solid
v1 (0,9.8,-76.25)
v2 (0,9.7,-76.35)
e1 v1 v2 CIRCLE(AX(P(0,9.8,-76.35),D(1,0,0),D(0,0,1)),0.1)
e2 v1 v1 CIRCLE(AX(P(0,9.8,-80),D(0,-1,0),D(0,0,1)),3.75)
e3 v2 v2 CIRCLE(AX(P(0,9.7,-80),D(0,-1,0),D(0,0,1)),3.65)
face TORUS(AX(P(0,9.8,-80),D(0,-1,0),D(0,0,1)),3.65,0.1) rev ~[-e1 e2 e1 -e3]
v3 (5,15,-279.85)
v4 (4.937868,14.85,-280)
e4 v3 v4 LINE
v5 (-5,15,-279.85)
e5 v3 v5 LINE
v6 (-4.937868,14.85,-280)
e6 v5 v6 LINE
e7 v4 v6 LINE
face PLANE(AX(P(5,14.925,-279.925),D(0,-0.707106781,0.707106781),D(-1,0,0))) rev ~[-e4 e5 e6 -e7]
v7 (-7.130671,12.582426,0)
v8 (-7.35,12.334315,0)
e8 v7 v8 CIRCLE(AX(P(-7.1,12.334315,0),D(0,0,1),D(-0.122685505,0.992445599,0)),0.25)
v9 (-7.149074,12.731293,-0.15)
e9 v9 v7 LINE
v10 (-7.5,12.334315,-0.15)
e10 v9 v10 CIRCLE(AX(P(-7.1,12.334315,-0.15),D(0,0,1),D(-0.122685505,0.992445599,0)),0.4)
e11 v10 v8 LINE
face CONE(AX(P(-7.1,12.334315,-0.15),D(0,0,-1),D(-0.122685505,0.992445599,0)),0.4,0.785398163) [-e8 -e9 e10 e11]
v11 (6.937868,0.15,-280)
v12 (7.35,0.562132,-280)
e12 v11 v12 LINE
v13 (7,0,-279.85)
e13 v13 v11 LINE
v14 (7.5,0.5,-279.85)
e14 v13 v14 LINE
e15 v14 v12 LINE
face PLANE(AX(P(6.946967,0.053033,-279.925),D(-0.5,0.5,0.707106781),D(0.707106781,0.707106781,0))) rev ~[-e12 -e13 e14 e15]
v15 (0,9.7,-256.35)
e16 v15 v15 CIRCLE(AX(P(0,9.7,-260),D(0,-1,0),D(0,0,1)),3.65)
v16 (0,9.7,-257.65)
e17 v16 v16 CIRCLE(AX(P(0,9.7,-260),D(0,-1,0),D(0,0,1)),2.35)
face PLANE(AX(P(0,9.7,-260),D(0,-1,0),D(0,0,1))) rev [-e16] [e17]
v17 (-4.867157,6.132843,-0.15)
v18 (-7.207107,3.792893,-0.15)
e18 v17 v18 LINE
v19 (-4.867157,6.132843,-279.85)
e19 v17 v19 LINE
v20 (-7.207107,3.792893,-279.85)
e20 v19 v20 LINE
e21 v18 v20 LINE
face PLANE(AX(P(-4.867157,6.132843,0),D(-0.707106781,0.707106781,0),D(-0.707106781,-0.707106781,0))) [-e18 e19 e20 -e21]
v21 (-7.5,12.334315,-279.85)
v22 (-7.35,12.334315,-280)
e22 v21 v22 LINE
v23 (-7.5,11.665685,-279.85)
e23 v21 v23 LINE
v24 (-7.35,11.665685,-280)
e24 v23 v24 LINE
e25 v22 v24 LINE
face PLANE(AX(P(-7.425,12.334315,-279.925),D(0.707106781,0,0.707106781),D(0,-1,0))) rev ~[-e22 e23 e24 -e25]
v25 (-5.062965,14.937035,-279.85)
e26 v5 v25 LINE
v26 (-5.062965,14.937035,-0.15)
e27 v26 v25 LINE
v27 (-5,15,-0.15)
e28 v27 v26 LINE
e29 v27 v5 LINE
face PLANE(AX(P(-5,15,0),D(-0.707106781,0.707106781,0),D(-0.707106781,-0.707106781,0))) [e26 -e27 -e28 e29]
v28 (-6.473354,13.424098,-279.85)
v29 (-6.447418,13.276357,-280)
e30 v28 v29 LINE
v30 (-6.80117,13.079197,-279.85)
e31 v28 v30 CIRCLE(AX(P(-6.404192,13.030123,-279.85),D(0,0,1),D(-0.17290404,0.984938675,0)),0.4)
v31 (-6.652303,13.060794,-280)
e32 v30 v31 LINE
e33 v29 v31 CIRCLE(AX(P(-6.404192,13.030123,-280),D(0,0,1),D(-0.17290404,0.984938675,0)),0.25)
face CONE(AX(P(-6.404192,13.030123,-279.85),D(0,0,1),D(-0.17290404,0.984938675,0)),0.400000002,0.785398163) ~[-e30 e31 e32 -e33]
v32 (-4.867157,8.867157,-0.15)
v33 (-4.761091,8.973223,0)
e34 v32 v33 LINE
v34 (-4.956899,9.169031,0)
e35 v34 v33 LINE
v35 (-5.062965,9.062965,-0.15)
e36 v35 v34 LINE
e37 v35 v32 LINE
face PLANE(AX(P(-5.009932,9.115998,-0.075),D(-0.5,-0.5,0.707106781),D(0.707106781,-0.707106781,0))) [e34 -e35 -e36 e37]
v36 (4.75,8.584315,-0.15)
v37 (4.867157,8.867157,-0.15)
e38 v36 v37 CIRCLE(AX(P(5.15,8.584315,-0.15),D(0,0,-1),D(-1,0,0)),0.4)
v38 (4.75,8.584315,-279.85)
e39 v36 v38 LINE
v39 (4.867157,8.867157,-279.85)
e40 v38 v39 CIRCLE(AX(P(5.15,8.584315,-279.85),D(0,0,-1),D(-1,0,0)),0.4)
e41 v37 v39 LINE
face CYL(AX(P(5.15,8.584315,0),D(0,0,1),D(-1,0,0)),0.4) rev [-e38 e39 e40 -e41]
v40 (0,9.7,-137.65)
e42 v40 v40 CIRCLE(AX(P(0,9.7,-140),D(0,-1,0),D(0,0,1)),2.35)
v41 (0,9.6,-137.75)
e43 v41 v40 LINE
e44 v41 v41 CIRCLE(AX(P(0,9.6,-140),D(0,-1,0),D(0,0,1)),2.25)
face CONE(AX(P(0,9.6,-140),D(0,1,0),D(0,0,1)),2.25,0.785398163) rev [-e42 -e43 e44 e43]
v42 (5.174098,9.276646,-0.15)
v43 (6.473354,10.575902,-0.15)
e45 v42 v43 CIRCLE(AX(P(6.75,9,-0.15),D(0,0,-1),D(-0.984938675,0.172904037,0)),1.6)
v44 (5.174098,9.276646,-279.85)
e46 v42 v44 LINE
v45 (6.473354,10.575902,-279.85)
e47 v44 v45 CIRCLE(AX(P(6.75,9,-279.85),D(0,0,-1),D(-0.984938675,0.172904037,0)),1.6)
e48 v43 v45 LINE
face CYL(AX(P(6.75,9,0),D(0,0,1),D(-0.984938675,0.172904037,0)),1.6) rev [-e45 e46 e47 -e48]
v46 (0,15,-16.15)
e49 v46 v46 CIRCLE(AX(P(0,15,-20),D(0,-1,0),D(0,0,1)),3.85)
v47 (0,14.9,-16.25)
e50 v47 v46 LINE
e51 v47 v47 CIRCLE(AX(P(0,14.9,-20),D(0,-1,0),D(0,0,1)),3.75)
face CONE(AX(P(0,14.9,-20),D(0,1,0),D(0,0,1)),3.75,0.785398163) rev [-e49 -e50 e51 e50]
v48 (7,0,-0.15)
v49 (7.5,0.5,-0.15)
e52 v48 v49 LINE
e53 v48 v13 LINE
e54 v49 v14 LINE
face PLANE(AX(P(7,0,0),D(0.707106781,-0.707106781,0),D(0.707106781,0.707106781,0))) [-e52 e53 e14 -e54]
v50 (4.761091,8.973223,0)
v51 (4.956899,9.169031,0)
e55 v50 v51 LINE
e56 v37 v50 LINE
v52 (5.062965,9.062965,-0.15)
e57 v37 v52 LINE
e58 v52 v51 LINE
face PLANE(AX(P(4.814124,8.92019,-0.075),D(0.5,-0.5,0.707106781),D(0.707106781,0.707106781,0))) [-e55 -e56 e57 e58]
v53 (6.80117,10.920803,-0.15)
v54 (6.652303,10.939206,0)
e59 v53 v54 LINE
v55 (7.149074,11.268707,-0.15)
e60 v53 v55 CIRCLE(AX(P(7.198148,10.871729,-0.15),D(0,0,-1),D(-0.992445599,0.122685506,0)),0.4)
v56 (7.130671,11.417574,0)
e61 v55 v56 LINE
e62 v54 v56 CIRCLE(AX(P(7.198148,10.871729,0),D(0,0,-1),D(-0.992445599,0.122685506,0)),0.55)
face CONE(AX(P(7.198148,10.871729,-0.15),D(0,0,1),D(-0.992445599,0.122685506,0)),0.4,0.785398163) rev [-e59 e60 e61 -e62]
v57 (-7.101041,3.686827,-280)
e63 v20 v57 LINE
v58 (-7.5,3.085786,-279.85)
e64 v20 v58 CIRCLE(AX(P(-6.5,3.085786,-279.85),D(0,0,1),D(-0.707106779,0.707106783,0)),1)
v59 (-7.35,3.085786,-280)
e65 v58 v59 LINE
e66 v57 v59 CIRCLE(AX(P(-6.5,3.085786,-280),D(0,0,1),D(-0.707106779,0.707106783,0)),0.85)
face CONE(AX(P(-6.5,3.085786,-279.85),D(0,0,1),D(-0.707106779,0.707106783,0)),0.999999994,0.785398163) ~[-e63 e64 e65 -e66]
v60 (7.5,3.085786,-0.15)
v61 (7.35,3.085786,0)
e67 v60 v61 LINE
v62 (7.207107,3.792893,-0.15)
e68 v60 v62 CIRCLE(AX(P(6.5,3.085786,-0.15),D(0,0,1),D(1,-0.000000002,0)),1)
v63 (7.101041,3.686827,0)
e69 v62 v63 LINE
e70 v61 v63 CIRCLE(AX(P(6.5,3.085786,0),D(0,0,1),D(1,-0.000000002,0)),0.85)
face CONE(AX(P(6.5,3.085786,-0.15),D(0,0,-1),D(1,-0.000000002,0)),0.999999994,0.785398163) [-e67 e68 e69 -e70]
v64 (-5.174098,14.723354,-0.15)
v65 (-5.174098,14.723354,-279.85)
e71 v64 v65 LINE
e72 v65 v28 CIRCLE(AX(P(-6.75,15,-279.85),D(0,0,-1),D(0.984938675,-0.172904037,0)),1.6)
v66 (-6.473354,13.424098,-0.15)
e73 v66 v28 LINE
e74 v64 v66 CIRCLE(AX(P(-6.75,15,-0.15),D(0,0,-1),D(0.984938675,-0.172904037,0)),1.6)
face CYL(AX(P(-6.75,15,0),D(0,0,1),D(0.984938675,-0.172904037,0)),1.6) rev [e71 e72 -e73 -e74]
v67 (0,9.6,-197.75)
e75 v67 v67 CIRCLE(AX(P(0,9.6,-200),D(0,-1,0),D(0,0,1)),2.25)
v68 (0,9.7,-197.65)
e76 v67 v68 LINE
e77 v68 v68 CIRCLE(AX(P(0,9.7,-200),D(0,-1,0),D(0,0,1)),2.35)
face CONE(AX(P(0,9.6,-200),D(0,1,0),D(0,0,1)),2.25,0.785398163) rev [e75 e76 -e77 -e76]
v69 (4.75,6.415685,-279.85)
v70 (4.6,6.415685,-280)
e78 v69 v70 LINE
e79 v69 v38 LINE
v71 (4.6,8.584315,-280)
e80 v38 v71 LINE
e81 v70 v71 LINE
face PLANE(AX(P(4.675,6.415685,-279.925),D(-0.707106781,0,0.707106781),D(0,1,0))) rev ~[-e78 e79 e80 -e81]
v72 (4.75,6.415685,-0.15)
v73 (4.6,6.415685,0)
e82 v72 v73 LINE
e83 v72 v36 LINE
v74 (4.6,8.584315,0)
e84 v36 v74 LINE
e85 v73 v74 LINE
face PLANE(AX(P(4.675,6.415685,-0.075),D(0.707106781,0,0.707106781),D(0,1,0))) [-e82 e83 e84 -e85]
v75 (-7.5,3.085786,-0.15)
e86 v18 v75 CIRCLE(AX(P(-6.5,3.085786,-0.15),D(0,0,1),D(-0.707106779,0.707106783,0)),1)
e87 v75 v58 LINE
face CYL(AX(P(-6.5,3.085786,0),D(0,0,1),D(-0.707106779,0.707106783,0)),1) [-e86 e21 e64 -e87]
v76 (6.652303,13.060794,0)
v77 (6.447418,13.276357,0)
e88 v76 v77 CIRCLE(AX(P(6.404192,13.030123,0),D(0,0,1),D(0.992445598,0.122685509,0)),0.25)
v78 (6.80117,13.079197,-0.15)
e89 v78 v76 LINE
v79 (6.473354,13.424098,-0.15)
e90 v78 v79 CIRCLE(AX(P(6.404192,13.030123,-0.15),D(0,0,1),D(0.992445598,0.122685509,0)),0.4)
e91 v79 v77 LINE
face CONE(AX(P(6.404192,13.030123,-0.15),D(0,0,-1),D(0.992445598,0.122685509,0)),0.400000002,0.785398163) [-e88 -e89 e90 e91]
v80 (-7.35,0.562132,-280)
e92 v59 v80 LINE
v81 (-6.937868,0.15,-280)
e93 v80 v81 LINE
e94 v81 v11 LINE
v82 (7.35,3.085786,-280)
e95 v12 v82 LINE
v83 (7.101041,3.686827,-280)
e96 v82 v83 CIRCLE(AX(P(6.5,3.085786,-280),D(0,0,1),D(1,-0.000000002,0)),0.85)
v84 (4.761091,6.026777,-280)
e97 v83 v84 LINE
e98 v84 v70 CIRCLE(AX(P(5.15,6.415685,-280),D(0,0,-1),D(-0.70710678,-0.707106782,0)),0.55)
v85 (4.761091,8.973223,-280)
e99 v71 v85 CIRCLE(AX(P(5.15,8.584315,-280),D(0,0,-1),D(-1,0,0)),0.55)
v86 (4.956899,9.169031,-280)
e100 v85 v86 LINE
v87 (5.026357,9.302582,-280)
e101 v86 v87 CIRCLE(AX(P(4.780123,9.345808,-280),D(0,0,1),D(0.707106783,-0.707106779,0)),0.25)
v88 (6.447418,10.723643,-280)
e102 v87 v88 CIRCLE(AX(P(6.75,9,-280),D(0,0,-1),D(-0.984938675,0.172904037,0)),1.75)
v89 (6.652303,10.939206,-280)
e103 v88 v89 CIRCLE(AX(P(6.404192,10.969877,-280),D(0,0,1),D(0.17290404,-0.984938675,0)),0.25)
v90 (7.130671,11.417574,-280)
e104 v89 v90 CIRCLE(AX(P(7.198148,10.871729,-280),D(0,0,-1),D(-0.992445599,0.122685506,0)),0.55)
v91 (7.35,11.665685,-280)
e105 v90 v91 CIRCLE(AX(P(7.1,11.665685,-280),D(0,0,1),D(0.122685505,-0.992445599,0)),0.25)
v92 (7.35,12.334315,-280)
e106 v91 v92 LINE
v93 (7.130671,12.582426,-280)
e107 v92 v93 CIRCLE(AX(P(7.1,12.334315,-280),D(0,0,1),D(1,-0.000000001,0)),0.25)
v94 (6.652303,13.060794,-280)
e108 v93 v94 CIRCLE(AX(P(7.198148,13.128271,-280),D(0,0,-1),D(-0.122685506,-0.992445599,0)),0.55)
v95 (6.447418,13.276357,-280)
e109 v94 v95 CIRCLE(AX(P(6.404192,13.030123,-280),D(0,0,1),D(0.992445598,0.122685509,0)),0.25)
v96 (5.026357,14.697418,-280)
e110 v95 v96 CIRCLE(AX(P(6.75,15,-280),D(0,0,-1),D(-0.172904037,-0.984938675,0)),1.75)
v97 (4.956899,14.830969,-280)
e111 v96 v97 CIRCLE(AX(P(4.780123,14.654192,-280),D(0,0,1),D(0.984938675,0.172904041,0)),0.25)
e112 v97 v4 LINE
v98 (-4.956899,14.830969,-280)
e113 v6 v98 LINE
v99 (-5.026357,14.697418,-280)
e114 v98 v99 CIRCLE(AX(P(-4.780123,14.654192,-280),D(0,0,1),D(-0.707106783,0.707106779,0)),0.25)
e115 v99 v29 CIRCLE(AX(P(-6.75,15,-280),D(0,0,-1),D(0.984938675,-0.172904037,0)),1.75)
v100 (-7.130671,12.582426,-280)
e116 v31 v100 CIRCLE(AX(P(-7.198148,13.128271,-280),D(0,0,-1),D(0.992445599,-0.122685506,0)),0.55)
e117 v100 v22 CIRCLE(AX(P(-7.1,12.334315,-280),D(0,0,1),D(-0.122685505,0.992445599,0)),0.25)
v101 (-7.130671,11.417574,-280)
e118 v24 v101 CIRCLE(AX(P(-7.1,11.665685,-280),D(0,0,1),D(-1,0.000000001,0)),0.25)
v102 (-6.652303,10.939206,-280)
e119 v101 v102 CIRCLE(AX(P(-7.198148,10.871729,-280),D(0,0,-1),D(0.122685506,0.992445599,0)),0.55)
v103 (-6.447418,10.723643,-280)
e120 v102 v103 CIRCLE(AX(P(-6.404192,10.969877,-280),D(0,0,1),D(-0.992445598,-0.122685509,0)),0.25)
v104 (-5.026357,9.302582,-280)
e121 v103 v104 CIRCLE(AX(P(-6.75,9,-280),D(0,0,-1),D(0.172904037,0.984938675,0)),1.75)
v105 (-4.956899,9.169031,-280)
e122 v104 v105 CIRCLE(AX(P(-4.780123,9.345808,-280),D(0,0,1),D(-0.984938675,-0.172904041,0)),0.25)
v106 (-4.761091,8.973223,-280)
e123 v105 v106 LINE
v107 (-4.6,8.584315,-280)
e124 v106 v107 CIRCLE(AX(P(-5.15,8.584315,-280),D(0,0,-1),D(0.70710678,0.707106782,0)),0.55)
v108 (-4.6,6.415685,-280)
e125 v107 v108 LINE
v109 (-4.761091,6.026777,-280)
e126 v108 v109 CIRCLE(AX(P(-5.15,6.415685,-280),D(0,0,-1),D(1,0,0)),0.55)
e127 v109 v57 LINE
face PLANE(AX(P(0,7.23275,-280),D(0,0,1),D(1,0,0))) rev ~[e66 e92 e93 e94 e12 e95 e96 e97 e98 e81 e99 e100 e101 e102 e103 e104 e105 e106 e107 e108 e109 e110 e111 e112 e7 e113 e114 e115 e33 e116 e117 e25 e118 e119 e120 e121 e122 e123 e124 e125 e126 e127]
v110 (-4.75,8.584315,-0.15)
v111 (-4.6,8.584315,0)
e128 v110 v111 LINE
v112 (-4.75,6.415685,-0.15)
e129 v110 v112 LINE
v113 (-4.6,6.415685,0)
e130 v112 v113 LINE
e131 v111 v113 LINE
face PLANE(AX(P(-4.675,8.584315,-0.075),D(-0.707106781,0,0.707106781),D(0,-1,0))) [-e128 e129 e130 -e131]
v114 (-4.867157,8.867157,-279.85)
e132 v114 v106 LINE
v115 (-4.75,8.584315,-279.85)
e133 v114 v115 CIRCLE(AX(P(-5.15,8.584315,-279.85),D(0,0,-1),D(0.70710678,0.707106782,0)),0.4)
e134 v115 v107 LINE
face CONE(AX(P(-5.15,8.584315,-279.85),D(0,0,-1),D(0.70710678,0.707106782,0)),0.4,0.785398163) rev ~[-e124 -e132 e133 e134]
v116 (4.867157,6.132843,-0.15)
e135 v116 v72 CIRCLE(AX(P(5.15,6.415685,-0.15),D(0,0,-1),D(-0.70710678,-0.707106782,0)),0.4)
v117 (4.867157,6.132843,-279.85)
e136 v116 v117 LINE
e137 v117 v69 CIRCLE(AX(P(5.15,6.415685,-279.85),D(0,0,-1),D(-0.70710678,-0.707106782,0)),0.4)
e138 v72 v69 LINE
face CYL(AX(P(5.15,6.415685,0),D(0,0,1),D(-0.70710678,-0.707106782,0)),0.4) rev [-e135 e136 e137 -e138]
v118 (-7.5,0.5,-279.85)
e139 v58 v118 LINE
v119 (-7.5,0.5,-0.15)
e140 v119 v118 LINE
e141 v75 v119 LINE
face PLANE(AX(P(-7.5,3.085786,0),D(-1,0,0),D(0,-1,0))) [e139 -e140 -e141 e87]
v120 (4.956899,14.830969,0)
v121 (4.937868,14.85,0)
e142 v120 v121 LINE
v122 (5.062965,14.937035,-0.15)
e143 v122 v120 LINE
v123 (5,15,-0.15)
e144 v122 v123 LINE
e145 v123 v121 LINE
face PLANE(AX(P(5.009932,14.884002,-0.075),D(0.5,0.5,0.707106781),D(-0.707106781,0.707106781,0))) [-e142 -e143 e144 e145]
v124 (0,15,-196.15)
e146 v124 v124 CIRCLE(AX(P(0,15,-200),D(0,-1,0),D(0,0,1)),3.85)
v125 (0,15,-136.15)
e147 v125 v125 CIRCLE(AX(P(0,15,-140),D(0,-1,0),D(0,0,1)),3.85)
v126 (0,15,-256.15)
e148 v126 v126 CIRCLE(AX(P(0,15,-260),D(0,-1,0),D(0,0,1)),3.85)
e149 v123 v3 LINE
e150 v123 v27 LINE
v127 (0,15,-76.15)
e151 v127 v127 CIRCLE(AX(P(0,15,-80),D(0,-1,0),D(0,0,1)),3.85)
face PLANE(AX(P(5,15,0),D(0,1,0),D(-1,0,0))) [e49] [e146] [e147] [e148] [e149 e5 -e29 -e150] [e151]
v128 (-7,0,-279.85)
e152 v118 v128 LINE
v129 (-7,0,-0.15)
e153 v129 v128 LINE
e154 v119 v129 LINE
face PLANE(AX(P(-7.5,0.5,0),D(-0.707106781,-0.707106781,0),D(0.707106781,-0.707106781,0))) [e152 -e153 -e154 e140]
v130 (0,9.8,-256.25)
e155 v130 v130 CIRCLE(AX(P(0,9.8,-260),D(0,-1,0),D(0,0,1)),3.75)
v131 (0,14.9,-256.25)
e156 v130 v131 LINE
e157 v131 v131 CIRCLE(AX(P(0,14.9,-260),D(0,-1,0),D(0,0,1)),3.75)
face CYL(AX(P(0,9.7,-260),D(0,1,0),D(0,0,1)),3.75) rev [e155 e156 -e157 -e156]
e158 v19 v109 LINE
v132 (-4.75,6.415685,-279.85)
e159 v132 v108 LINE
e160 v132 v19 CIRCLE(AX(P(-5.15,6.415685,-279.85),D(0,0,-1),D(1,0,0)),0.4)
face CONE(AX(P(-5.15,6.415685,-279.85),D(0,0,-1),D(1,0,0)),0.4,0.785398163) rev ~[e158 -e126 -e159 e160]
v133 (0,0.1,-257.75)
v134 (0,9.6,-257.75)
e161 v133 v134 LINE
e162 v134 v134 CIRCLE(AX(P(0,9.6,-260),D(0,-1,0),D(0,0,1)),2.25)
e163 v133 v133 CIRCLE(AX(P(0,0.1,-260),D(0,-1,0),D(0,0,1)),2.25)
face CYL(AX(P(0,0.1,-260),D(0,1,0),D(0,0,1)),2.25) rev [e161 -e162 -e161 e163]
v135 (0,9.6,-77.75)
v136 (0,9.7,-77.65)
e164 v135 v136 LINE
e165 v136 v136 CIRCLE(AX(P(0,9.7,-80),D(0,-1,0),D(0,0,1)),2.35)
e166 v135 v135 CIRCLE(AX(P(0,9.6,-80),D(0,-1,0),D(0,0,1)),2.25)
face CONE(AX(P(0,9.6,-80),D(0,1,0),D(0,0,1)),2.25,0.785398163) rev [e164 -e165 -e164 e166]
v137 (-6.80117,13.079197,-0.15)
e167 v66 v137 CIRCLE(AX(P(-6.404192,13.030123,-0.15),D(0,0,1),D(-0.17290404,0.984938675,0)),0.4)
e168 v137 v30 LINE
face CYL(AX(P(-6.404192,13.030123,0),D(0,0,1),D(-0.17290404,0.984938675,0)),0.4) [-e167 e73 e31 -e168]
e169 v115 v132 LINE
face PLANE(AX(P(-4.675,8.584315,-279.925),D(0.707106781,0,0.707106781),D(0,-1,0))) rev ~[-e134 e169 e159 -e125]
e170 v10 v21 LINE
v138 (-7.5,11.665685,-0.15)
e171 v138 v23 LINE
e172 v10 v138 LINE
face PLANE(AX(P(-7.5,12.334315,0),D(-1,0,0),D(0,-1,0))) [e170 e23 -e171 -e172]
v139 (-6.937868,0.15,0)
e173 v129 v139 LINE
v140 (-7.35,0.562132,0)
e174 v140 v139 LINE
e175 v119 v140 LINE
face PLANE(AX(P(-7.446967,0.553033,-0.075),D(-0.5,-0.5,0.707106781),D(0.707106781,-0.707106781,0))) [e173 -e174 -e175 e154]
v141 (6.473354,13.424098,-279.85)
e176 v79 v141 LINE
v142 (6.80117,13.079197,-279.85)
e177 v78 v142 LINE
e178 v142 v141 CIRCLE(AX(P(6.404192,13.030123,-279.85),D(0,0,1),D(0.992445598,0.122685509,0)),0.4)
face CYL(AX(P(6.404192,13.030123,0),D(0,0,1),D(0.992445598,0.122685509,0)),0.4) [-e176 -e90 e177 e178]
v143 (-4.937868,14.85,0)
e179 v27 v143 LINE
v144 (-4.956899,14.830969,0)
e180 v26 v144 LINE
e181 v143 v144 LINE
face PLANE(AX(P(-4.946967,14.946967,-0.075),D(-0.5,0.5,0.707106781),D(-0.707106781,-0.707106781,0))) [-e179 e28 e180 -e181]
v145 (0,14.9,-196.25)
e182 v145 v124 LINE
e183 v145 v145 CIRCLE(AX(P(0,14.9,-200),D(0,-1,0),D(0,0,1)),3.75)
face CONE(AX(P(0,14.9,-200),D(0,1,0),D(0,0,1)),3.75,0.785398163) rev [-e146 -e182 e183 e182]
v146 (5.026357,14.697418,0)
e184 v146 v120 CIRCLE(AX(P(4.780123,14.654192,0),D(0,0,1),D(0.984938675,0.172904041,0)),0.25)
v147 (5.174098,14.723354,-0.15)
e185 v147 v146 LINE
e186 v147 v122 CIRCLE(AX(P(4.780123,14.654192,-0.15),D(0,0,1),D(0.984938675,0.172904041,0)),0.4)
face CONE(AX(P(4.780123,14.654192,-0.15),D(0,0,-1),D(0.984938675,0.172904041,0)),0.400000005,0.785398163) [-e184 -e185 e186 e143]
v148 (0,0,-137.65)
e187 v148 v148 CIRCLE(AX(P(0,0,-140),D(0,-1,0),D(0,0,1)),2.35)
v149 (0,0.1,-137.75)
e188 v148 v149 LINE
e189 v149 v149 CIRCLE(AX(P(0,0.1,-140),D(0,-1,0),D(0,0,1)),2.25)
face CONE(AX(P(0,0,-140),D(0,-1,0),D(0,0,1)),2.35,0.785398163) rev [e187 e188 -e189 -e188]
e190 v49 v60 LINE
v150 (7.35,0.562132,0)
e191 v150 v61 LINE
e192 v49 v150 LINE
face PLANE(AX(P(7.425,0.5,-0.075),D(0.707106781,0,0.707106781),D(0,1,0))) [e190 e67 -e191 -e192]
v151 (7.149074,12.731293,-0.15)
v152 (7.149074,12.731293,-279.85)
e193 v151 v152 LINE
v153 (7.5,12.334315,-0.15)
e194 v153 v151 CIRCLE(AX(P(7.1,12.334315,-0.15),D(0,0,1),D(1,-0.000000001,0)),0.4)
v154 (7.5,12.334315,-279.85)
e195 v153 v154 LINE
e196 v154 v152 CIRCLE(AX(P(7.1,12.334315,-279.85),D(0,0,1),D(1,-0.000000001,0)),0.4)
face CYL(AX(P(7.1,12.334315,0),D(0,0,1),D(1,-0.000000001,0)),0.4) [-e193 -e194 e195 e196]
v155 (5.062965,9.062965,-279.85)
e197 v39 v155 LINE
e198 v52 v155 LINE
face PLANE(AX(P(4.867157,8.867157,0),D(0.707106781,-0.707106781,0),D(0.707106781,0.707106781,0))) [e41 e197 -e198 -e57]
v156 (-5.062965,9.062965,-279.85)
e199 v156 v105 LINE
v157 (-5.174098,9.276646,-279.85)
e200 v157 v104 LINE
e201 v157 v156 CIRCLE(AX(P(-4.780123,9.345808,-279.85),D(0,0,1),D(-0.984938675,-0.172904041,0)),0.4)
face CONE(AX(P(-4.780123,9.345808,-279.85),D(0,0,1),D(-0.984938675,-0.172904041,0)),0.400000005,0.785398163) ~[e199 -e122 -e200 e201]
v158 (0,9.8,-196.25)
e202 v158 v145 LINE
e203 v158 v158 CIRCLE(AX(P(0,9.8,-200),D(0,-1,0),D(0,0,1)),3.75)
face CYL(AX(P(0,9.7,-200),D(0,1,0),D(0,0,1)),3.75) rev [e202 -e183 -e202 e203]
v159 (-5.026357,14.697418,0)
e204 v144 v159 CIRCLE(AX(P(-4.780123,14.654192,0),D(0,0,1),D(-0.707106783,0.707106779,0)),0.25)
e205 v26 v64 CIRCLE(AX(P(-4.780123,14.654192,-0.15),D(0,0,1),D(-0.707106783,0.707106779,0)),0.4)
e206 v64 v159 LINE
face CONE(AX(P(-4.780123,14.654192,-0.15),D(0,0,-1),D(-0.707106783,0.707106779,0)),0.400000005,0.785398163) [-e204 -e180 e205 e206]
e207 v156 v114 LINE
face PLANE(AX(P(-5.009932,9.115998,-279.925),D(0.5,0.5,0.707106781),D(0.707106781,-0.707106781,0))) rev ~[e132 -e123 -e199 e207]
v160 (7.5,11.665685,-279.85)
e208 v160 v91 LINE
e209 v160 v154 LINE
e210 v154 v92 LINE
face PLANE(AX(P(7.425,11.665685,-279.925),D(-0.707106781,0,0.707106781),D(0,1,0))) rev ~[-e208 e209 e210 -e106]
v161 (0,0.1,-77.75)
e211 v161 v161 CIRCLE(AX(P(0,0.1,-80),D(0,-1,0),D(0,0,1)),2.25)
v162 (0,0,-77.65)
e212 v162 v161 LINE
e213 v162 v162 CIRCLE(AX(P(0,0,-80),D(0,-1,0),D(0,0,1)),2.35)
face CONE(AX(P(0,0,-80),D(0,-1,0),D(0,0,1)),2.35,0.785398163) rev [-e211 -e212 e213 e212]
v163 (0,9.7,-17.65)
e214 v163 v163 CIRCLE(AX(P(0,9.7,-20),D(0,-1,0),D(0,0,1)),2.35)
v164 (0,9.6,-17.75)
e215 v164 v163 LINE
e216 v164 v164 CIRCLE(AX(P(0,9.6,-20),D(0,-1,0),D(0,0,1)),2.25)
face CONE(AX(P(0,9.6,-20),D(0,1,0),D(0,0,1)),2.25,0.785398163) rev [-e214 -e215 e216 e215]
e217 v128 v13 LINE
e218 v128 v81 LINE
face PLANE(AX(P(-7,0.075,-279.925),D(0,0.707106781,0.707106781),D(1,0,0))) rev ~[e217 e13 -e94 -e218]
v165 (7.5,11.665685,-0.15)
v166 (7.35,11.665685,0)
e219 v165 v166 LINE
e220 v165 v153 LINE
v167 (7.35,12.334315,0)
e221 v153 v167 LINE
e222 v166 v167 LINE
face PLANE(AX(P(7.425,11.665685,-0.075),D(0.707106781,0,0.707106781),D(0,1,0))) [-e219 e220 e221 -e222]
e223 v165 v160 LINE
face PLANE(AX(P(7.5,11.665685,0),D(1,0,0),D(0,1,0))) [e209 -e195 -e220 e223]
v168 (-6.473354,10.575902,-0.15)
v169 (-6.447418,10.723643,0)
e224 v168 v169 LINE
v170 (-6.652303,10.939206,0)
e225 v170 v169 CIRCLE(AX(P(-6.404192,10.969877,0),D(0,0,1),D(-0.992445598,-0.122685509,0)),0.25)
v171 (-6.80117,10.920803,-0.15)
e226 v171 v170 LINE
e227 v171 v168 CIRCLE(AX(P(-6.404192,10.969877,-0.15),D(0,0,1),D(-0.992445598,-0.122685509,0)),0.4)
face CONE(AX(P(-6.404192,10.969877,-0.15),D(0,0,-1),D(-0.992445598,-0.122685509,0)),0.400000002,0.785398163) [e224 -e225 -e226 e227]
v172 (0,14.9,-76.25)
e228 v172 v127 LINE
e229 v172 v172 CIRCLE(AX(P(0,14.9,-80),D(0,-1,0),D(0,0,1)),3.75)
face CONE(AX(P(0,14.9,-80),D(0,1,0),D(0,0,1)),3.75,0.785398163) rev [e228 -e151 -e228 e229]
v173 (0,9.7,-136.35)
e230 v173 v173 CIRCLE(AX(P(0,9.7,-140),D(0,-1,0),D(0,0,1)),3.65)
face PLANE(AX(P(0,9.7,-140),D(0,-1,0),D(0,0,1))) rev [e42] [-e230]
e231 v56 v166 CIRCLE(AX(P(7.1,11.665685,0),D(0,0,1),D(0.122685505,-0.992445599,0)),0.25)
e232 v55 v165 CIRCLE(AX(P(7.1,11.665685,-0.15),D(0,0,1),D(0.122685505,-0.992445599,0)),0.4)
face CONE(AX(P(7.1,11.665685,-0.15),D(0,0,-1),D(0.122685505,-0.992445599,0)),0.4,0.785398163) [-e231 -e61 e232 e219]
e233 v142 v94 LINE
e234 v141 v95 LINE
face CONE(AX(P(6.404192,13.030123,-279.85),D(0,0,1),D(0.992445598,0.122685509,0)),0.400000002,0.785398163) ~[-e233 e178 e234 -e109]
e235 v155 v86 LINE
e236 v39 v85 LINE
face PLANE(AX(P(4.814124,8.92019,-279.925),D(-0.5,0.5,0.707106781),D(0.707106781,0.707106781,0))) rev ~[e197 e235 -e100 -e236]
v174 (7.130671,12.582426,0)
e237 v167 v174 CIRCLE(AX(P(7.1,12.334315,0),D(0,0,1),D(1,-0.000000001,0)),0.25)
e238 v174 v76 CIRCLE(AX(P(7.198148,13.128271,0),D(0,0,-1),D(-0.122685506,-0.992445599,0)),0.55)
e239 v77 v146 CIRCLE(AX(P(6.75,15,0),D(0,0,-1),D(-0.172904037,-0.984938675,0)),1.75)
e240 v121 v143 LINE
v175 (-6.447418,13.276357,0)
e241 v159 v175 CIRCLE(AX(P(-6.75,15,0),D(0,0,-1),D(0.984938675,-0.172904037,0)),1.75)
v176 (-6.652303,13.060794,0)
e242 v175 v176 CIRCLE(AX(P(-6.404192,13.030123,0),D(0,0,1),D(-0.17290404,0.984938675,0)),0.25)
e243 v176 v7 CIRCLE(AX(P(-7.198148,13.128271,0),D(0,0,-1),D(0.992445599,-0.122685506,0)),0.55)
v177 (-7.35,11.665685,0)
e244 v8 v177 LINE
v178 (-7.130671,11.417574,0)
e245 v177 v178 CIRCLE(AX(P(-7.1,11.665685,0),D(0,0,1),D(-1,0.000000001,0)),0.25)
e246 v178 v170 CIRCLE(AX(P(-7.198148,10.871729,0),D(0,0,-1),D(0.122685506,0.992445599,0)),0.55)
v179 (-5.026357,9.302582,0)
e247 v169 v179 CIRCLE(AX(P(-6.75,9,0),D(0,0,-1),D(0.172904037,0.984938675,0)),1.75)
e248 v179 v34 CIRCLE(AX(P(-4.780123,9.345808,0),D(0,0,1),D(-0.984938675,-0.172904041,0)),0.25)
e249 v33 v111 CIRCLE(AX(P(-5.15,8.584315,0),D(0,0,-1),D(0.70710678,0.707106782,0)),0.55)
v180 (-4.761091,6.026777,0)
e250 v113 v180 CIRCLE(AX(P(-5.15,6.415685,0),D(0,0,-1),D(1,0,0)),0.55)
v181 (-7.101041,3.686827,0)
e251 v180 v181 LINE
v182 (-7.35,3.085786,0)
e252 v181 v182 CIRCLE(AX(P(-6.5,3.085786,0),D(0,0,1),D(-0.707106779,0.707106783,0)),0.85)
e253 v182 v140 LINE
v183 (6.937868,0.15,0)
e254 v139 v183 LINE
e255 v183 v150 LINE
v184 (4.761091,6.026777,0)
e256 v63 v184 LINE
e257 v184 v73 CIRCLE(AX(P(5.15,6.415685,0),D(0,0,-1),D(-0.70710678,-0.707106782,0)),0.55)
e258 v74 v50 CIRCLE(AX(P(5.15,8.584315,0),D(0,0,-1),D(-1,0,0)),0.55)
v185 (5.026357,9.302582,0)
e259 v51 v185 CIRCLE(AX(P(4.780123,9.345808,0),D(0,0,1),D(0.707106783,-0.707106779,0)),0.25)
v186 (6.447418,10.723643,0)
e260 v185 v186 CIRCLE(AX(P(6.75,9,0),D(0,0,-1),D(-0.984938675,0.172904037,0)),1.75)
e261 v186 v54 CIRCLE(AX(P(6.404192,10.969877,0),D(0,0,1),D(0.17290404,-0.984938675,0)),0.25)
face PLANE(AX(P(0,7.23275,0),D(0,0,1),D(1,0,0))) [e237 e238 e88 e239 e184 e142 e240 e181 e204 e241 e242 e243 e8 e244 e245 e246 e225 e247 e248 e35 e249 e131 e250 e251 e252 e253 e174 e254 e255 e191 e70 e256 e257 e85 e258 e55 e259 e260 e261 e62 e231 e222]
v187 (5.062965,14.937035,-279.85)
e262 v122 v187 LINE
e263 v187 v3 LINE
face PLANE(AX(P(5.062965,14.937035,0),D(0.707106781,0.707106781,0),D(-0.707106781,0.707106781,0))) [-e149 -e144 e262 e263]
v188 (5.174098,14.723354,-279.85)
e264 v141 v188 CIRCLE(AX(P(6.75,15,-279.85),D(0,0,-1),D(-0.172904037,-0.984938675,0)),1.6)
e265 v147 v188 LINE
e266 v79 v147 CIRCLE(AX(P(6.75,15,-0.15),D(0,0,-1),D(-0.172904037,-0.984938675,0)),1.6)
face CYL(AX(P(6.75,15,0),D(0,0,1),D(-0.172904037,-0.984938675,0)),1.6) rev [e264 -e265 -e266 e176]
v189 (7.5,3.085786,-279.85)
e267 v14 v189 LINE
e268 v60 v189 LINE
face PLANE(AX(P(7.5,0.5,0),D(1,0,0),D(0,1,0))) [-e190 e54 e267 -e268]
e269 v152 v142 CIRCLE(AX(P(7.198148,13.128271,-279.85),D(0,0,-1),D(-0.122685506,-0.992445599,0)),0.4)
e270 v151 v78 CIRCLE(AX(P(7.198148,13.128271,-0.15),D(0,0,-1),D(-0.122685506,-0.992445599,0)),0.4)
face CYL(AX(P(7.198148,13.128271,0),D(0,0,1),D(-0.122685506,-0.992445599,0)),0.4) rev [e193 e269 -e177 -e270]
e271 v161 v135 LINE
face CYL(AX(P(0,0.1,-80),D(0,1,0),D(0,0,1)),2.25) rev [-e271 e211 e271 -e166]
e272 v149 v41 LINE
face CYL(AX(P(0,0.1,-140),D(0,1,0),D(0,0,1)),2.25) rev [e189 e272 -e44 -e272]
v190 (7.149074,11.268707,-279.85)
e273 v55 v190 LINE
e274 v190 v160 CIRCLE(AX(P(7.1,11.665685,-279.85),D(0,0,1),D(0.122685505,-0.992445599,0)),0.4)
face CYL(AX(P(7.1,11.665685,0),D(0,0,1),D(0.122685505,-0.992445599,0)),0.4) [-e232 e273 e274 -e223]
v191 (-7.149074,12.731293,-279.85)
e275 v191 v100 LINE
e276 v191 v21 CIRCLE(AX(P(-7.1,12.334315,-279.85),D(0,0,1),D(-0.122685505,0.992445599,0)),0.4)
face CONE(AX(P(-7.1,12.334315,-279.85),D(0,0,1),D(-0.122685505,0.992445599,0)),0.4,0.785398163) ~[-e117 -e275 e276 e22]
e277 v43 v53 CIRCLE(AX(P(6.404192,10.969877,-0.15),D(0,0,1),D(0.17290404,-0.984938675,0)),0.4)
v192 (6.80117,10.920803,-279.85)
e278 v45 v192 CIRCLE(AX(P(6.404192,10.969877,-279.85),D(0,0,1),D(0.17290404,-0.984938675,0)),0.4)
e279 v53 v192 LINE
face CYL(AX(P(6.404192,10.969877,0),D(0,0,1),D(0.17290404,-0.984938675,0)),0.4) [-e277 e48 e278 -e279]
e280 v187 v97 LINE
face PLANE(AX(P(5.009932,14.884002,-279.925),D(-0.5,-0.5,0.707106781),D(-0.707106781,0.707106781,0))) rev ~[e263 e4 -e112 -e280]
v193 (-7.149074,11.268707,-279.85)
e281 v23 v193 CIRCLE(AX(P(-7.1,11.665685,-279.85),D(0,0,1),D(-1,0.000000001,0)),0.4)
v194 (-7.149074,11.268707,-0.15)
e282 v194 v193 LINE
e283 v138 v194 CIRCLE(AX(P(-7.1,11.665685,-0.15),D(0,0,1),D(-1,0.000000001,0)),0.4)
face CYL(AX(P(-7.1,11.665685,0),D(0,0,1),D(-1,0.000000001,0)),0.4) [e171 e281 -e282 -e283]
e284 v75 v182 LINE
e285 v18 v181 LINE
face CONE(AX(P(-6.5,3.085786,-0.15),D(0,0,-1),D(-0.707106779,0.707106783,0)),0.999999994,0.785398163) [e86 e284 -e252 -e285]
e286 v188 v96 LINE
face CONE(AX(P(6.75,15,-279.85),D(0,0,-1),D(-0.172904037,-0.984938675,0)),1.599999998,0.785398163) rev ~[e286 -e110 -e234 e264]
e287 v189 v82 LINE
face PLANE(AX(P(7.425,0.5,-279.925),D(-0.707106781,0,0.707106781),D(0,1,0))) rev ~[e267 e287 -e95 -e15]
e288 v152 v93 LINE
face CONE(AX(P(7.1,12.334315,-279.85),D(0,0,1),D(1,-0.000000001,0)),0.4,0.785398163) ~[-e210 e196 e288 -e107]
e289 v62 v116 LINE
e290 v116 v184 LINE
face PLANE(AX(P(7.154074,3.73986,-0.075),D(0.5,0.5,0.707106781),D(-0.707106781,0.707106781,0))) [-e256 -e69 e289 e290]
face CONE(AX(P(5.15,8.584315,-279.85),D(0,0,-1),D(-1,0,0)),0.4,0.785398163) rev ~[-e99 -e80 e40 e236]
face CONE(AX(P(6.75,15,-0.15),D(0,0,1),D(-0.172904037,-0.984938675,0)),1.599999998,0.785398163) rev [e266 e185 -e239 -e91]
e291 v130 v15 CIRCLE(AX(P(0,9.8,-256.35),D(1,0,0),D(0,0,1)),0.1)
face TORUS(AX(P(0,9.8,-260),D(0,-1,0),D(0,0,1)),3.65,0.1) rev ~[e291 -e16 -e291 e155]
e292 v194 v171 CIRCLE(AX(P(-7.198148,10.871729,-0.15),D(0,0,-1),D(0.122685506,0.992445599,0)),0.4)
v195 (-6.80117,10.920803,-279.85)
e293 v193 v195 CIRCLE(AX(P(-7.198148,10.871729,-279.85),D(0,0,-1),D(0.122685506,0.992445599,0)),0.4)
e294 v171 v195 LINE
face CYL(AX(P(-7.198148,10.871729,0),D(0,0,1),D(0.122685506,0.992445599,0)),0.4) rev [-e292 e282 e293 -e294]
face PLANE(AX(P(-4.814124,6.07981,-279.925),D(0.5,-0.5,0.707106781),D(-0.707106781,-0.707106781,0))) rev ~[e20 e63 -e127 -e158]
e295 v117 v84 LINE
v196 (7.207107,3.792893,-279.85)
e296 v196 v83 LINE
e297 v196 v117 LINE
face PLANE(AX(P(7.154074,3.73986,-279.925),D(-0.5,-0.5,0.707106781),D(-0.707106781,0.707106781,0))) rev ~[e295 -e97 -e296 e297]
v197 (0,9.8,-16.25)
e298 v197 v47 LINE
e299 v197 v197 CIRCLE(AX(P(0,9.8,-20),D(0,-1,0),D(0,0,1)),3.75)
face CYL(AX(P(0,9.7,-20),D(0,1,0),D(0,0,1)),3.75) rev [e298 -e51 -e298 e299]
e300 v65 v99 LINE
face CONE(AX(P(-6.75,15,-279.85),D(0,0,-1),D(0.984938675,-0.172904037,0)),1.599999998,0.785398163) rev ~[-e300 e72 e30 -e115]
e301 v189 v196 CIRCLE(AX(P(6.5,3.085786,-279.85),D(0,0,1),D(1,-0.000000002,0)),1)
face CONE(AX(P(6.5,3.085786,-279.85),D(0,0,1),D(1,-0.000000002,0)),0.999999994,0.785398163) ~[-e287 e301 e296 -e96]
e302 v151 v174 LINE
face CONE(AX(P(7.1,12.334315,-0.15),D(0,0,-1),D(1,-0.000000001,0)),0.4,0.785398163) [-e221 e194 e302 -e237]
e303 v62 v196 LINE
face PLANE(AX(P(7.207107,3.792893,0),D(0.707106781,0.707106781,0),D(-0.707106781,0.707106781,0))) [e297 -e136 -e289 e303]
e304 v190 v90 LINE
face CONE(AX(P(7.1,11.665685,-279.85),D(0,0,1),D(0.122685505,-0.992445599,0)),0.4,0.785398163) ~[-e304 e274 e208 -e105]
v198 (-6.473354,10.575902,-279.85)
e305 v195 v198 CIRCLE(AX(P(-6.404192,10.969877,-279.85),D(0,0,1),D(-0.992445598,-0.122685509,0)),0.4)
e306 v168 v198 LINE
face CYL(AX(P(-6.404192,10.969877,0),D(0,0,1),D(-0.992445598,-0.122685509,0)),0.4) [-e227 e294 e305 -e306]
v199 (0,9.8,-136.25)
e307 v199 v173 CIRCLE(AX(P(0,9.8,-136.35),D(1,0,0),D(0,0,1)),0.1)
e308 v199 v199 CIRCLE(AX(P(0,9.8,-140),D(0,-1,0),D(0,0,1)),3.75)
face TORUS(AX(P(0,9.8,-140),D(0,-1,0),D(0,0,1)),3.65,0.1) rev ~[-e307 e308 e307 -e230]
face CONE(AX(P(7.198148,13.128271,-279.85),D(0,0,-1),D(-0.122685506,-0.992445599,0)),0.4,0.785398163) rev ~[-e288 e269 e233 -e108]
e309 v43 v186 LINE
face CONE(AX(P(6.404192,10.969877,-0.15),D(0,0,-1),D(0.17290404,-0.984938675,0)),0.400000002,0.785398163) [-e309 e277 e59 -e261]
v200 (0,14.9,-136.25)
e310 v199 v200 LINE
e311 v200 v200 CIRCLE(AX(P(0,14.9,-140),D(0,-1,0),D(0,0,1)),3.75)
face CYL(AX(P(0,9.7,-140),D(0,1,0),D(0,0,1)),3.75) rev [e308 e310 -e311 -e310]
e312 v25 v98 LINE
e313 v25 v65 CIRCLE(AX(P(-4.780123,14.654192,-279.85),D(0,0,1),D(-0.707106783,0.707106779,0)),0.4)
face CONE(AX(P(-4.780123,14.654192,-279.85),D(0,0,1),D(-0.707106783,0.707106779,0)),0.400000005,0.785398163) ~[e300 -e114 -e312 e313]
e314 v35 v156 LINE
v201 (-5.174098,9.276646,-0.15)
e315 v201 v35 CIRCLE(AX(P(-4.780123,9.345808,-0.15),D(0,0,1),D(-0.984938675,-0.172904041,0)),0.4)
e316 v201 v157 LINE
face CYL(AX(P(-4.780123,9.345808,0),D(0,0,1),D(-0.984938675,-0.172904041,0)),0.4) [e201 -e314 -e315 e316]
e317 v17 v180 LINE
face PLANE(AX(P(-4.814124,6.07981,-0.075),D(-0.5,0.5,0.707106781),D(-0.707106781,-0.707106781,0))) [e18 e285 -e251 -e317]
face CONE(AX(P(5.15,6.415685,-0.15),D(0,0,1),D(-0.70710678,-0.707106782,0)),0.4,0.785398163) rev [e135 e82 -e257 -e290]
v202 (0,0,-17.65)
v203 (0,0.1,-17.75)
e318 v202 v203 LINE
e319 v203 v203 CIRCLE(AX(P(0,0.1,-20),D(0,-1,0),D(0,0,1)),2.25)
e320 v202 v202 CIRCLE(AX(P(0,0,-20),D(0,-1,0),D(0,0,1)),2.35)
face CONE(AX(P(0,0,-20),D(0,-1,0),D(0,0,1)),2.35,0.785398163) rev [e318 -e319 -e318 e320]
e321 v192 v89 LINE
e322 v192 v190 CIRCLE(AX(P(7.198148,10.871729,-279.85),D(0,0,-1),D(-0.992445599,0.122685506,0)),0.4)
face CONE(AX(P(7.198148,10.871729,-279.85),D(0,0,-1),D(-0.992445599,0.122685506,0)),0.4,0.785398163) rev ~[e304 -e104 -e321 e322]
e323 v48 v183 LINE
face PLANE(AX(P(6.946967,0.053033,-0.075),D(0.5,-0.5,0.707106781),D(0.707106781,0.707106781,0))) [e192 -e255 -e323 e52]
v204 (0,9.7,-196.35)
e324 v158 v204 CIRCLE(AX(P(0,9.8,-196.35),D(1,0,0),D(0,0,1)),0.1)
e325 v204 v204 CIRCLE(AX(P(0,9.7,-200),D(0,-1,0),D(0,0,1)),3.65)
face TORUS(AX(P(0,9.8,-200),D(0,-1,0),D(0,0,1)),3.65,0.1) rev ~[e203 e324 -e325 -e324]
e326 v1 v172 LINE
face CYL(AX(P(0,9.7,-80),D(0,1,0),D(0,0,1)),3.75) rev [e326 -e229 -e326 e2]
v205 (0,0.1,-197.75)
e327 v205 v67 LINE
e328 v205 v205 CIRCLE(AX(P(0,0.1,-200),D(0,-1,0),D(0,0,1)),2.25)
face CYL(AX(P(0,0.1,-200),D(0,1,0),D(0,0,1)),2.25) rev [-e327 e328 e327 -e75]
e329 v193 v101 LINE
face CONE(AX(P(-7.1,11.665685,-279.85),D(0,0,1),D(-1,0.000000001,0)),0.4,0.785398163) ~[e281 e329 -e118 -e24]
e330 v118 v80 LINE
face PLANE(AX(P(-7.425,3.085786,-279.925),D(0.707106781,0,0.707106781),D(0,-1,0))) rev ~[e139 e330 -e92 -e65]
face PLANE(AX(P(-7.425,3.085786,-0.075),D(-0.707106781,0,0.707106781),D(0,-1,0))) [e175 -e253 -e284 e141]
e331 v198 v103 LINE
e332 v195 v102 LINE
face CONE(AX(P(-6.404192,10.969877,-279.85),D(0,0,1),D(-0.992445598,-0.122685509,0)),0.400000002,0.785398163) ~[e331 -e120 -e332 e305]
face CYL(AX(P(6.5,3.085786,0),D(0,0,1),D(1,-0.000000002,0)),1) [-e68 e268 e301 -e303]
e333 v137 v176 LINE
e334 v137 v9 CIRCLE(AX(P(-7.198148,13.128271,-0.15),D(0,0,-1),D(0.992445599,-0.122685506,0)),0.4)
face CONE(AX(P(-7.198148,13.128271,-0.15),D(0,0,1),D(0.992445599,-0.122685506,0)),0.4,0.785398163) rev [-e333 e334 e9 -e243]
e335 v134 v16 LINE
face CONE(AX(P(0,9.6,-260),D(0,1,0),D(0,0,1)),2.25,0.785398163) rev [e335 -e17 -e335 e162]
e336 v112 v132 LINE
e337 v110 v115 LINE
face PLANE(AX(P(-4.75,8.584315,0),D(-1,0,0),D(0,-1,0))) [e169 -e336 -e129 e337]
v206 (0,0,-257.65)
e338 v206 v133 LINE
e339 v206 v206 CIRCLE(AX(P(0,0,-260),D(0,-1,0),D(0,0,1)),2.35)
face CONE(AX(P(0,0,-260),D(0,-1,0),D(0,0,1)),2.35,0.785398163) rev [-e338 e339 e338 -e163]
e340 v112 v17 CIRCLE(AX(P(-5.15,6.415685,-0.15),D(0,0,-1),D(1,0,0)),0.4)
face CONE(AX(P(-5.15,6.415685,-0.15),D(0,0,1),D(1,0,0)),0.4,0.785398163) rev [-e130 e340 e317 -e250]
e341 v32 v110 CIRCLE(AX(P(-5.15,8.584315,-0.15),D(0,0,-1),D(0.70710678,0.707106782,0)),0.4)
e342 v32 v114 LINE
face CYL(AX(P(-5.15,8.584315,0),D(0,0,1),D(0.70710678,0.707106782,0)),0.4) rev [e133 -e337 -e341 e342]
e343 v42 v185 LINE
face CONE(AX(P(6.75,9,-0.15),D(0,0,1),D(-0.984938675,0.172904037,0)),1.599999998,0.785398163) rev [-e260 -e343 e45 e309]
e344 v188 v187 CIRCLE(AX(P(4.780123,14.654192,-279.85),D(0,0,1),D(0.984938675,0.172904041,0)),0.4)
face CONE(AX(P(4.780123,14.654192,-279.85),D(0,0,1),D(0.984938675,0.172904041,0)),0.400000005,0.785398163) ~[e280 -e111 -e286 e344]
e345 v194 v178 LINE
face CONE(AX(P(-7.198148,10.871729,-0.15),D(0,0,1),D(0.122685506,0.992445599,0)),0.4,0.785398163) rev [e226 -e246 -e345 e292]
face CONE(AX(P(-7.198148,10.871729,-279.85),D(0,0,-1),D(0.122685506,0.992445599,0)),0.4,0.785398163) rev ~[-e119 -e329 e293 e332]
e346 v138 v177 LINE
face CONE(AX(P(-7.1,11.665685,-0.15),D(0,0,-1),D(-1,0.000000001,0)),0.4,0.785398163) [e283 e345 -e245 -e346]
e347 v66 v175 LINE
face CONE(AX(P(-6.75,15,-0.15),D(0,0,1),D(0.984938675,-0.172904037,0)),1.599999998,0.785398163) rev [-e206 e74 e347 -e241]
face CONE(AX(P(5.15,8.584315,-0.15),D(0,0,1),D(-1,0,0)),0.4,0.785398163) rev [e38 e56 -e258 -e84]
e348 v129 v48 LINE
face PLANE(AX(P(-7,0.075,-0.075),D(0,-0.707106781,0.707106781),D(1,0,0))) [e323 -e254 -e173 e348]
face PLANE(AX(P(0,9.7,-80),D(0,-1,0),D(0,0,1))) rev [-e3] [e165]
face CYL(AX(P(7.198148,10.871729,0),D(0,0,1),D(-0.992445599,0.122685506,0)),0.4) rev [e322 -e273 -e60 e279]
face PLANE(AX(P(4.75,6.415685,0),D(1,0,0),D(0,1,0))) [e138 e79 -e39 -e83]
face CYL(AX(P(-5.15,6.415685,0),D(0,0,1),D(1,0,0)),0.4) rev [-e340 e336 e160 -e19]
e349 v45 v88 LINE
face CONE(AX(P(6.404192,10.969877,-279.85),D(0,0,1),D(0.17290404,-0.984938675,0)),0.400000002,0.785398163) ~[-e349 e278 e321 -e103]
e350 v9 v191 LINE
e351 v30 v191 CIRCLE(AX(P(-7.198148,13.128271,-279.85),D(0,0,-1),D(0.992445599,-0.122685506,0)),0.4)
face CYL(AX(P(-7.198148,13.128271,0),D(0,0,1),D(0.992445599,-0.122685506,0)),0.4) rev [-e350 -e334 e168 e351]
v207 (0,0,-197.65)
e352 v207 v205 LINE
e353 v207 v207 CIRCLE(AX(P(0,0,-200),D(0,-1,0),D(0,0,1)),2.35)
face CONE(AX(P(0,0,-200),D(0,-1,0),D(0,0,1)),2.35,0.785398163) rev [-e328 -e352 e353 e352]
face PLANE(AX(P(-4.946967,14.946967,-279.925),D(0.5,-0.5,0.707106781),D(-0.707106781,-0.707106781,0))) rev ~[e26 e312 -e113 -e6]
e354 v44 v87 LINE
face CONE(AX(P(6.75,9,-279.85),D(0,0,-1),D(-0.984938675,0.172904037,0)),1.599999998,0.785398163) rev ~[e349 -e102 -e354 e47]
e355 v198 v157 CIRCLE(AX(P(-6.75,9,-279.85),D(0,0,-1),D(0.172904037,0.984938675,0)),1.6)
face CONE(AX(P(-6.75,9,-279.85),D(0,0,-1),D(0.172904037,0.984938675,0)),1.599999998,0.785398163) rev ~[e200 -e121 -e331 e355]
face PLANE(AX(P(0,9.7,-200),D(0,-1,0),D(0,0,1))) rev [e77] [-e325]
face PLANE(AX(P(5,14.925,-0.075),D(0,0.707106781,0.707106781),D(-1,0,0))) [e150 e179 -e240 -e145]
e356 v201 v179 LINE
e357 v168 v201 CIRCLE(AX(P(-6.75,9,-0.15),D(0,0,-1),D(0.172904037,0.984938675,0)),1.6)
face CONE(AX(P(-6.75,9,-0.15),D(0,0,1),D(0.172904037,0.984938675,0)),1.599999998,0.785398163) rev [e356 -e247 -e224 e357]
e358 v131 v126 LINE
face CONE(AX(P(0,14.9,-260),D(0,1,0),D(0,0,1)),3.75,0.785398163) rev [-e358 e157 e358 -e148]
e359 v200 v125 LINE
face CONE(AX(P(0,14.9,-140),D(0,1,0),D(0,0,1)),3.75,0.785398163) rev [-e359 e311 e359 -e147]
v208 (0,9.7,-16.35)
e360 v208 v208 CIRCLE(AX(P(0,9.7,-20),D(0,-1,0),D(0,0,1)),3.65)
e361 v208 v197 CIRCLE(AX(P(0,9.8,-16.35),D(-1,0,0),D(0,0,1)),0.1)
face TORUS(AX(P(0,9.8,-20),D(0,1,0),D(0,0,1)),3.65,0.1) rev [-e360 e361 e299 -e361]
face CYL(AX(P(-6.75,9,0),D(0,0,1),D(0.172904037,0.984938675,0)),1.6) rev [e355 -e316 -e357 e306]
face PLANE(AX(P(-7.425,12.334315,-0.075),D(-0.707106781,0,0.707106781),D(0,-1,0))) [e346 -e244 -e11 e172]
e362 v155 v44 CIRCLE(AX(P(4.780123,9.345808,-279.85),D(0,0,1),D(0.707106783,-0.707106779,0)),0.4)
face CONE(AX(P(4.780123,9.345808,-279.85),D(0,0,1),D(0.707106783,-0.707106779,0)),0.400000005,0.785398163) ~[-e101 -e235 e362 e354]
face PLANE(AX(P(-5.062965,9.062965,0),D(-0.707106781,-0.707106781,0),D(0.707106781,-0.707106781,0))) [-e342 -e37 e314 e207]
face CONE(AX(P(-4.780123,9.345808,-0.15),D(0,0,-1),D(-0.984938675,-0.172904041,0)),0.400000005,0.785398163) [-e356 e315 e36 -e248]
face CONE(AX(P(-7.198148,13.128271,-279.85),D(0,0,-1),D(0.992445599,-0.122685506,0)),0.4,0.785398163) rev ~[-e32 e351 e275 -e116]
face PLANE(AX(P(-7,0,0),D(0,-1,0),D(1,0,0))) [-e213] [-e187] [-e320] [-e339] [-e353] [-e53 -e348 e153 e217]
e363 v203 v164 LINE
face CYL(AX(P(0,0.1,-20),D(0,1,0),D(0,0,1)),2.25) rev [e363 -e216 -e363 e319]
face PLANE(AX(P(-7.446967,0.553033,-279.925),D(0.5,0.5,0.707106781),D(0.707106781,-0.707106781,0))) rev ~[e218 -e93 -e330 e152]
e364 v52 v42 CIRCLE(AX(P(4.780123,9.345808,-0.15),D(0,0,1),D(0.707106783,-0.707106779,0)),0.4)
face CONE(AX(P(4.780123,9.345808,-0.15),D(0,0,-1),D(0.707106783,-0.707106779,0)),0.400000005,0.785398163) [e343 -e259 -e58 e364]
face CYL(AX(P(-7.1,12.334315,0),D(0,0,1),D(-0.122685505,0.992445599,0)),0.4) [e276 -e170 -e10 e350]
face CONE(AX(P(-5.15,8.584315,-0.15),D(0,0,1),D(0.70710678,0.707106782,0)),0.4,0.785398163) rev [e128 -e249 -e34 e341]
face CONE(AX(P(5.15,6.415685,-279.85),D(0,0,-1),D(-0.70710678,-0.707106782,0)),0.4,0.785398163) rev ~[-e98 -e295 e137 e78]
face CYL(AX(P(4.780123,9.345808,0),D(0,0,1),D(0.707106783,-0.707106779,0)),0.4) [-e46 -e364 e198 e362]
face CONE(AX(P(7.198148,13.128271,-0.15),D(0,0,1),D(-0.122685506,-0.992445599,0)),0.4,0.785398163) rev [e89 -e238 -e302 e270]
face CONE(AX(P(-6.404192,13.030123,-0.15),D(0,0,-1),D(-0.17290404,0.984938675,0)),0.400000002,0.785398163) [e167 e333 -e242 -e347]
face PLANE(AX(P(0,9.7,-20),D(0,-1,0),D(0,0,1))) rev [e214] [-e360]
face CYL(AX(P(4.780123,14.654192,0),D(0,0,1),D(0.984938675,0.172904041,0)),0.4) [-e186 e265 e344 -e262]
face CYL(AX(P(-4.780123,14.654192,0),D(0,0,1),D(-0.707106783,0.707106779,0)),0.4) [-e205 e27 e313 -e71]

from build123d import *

# Parameters (mm, degrees)
BODY_DEPTH                                 = 280
AESTHETIC_CHAMFER_SIZE                     = 0.15
PRODUCTION_FILLET_R                        = 0.1
MOUNTING_HOLES_PATTERN_COUNT               = 5
MOUNTING_HOLES_PATTERN_PITCH               = 60
PRODUCTION_FILLET_OF_MOUNTING_HOLES_PATT_R = 0.1


with BuildPart() as part:
    # Rail Profile → Body (new body)
    with BuildSketch(Plane.XY):
        with BuildLine():
            Line((-7, 0), (7, 0))
            Line((7, 0), (7.5, 0.5))
            Line((7.5, 0.5), (7.5, 3.085786438))
            ThreePointArc((7.5, 3.085786438), (7.423879533, 3.46846987), (7.207106781, 3.792893219))
            Line((7.207106781, 3.792893219), (4.867157288, 6.132842712))
            ThreePointArc((4.867157288, 6.132842712), (4.780448187, 6.262612052), (4.75, 6.415685425))
            Line((4.75, 6.415685425), (4.75, 8.584314575))
            ThreePointArc((4.75, 8.584314575), (4.780448187, 8.737387948), (4.867157288, 8.867157288))
            Line((4.867157288, 8.867157288), (5.062965362, 9.062965362))
            ThreePointArc((5.062965362, 9.062965362), (5.134996734, 9.161242682), (5.17409812, 9.27664646))
            ThreePointArc((5.17409812, 9.27664646), (5.61862915, 10.13137085), (6.47335354, 10.57590188))
            ThreePointArc((6.47335354, 10.57590188), (6.694124352, 10.694306692), (6.801170165, 10.920803148))
            ThreePointArc((6.801170165, 10.920803148), (6.915305692, 11.154571658), (7.149074202, 11.268707185))
            ThreePointArc((7.149074202, 11.268707185), (7.399691242, 11.400760606), (7.5, 11.665685425))
            Line((7.5, 11.665685425), (7.5, 12.334314575))
            ThreePointArc((7.5, 12.334314575), (7.399691242, 12.599239394), (7.149074202, 12.731292815))
            ThreePointArc((7.149074202, 12.731292815), (6.915305692, 12.845428342), (6.801170165, 13.079196852))
            ThreePointArc((6.801170165, 13.079196852), (6.694124352, 13.305693308), (6.47335354, 13.42409812))
            ThreePointArc((6.47335354, 13.42409812), (5.61862915, 13.86862915), (5.17409812, 14.72335354))
            ThreePointArc((5.17409812, 14.72335354), (5.134996734, 14.838757318), (5.062965362, 14.937034638))
            Line((5.062965362, 14.937034638), (5, 15))
            Line((5, 15), (-5, 15))
            Line((-5, 15), (-5.062965362, 14.937034638))
            ThreePointArc((-5.062965362, 14.937034638), (-5.134996734, 14.838757318), (-5.17409812, 14.72335354))
            ThreePointArc((-5.17409812, 14.72335354), (-5.61862915, 13.86862915), (-6.47335354, 13.42409812))
            ThreePointArc((-6.47335354, 13.42409812), (-6.694124352, 13.305693308), (-6.801170165, 13.079196852))
            ThreePointArc((-6.801170165, 13.079196852), (-6.915305692, 12.845428342), (-7.149074202, 12.731292815))
            ThreePointArc((-7.149074202, 12.731292815), (-7.399691242, 12.599239394), (-7.5, 12.334314575))
            Line((-7.5, 12.334314575), (-7.5, 11.665685425))
            ThreePointArc((-7.5, 11.665685425), (-7.399691242, 11.400760606), (-7.149074202, 11.268707185))
            ThreePointArc((-7.149074202, 11.268707185), (-6.915305692, 11.154571658), (-6.801170165, 10.920803148))
            ThreePointArc((-6.801170165, 10.920803148), (-6.694124352, 10.694306692), (-6.47335354, 10.57590188))
            ThreePointArc((-6.47335354, 10.57590188), (-5.61862915, 10.13137085), (-5.17409812, 9.27664646))
            ThreePointArc((-5.17409812, 9.27664646), (-5.134996734, 9.161242682), (-5.062965362, 9.062965362))
            Line((-5.062965362, 9.062965362), (-4.867157288, 8.867157288))
            ThreePointArc((-4.867157288, 8.867157288), (-4.780448187, 8.737387948), (-4.75, 8.584314575))
            Line((-4.75, 8.584314575), (-4.75, 6.415685425))
            ThreePointArc((-4.75, 6.415685425), (-4.780448187, 6.262612052), (-4.867157288, 6.132842712))
            Line((-4.867157288, 6.132842712), (-7.207106781, 3.792893219))
            ThreePointArc((-7.207106781, 3.792893219), (-7.423879533, 3.46846987), (-7.5, 3.085786438))
            Line((-7.5, 3.085786438), (-7.5, 0.5))
            Line((-7.5, 0.5), (-7, 0))
        make_face()
    extrude(amount=-BODY_DEPTH)

    # Aesthetic Chamfer
    aesthetic_chamfer_edges = [part.edges().sort_by_distance(p)[0] for p in [
        (7.423879533, 3.46846987, -280),
        (-5.134996734, 9.161242682, -280),
        (-4.965061325, 8.965061325, -280),
        (-4.780448187, 8.737387948, -280),
        (-4.75, 7.5, -280),
        (-4.780448187, 6.262612052, -280),
        (-6.037132034, 4.962867966, -280),
        (-7.423879533, 3.46846987, -280),
        (-7.5, 1.792893219, -280),
        (-7.25, 0.25, -280),
        (0, 0, -280),
        (6.037132034, 4.962867966, -280),
        (4.780448187, 6.262612052, -280),
        (4.75, 7.5, -280),
        (4.780448187, 8.737387948, -280),
        (4.965061325, 8.965061325, -280),
        (5.134996734, 9.161242682, -280),
        (5.61862915, 10.13137085, -280),
        (6.694124352, 10.694306692, -280),
        (0, 0, 0),
        (-7.25, 0.25, 0),
        (-7.5, 1.792893219, 0),
        (-7.423879533, 3.46846987, 0),
        (-6.037132034, 4.962867966, 0),
        (-4.780448187, 6.262612052, 0),
        (6.915305692, 11.154571658, -280),
        (-4.75, 7.5, 0),
        (-4.780448187, 8.737387948, 0),
        (-4.965061325, 8.965061325, 0),
        (-5.134996734, 9.161242682, 0),
        (-5.61862915, 10.13137085, 0),
        (-6.694124352, 10.694306692, 0),
        (-6.915305692, 11.154571658, 0),
        (7.25, 0.25, -280),
        (7.399691242, 11.400760606, -280),
        (-7.399691242, 11.400760606, 0),
        (-7.5, 12, 0),
        (-7.399691242, 12.599239394, 0),
        (-6.915305692, 12.845428342, 0),
        (-6.694124352, 13.305693308, 0),
        (-5.61862915, 13.86862915, 0),
        (-5.134996734, 14.838757318, 0),
        (-5.031482681, 14.968517319, 0),
        (7.5, 12, -280),
        (0, 15, 0),
        (5.031482681, 14.968517319, 0),
        (5.134996734, 14.838757318, 0),
        (5.61862915, 13.86862915, 0),
        (6.694124352, 13.305693308, 0),
        (6.915305692, 12.845428342, 0),
        (7.399691242, 12.599239394, 0),
        (7.399691242, 12.599239394, -280),
        (7.5, 12, 0),
        (7.399691242, 11.400760606, 0),
        (6.915305692, 11.154571658, 0),
        (6.694124352, 10.694306692, 0),
        (5.61862915, 10.13137085, 0),
        (5.134996734, 9.161242682, 0),
        (4.965061325, 8.965061325, 0),
        (4.780448187, 8.737387948, 0),
        (6.915305692, 12.845428342, -280),
        (4.75, 7.5, 0),
        (4.780448187, 6.262612052, 0),
        (6.037132034, 4.962867966, 0),
        (7.423879533, 3.46846987, 0),
        (7.5, 1.792893219, 0),
        (7.25, 0.25, 0),
        (6.694124352, 13.305693308, -280),
        (5.61862915, 13.86862915, -280),
        (5.134996734, 14.838757318, -280),
        (5.031482681, 14.968517319, -280),
        (0, 15, -280),
        (-5.031482681, 14.968517319, -280),
        (7.5, 1.792893219, -280),
        (-5.134996734, 14.838757318, -280),
        (-5.61862915, 13.86862915, -280),
        (-6.694124352, 13.305693308, -280),
        (-6.915305692, 12.845428342, -280),
        (-7.399691242, 12.599239394, -280),
        (-7.5, 12, -280),
        (-7.399691242, 11.400760606, -280),
        (-6.915305692, 11.154571658, -280),
        (-6.694124352, 10.694306692, -280),
        (-5.61862915, 10.13137085, -280),
    ]]
    chamfer(aesthetic_chamfer_edges, length=AESTHETIC_CHAMFER_SIZE)

    # Sketch1 → Mounting Hole (revolve, cut)
    with BuildSketch(Plane(origin=(0, 15, -20), x_dir=(0, 0, 1), z_dir=(1, 0, 0))):
        Polygon((0, 0), (0, 15), (2.35, 15), (2.25, 14.9), (2.25, 5.4), (2.35, 5.3), (3.75, 5.3), (3.75, 0.1), (3.85, 0), align=None)
    mounting_hole = revolve(axis=Axis((0, 21.35, -20), (0, -1, 0)), mode=Mode.SUBTRACT)

    # Production Fillet
    production_fillet_edges = [part.edges().sort_by_distance(p)[0] for p in [
        (0, 9.7, -23.75),
    ]]
    fillet(production_fillet_edges, radius=PRODUCTION_FILLET_R)

    # Mounting Holes Pattern: Mounting Hole ×5
    with Locations(*[(0, 0, -i * MOUNTING_HOLES_PATTERN_PITCH) for i in range(1, MOUNTING_HOLES_PATTERN_COUNT)]):
        add(mounting_hole, mode=Mode.SUBTRACT)

    # Production Fillet of Mounting Holes Patt
    production_fillet_of_mounting_holes_patt_edges = [part.edges().sort_by_distance(p)[0] for p in [
        (0, 9.7, -83.75),
        (0, 9.7, -143.75),
        (0, 9.7, -203.75),
        (0, 9.7, -263.75),
    ]]
    fillet(production_fillet_of_mounting_holes_patt_edges, radius=PRODUCTION_FILLET_OF_MOUNTING_HOLES_PATT_R)


solid = part.part
